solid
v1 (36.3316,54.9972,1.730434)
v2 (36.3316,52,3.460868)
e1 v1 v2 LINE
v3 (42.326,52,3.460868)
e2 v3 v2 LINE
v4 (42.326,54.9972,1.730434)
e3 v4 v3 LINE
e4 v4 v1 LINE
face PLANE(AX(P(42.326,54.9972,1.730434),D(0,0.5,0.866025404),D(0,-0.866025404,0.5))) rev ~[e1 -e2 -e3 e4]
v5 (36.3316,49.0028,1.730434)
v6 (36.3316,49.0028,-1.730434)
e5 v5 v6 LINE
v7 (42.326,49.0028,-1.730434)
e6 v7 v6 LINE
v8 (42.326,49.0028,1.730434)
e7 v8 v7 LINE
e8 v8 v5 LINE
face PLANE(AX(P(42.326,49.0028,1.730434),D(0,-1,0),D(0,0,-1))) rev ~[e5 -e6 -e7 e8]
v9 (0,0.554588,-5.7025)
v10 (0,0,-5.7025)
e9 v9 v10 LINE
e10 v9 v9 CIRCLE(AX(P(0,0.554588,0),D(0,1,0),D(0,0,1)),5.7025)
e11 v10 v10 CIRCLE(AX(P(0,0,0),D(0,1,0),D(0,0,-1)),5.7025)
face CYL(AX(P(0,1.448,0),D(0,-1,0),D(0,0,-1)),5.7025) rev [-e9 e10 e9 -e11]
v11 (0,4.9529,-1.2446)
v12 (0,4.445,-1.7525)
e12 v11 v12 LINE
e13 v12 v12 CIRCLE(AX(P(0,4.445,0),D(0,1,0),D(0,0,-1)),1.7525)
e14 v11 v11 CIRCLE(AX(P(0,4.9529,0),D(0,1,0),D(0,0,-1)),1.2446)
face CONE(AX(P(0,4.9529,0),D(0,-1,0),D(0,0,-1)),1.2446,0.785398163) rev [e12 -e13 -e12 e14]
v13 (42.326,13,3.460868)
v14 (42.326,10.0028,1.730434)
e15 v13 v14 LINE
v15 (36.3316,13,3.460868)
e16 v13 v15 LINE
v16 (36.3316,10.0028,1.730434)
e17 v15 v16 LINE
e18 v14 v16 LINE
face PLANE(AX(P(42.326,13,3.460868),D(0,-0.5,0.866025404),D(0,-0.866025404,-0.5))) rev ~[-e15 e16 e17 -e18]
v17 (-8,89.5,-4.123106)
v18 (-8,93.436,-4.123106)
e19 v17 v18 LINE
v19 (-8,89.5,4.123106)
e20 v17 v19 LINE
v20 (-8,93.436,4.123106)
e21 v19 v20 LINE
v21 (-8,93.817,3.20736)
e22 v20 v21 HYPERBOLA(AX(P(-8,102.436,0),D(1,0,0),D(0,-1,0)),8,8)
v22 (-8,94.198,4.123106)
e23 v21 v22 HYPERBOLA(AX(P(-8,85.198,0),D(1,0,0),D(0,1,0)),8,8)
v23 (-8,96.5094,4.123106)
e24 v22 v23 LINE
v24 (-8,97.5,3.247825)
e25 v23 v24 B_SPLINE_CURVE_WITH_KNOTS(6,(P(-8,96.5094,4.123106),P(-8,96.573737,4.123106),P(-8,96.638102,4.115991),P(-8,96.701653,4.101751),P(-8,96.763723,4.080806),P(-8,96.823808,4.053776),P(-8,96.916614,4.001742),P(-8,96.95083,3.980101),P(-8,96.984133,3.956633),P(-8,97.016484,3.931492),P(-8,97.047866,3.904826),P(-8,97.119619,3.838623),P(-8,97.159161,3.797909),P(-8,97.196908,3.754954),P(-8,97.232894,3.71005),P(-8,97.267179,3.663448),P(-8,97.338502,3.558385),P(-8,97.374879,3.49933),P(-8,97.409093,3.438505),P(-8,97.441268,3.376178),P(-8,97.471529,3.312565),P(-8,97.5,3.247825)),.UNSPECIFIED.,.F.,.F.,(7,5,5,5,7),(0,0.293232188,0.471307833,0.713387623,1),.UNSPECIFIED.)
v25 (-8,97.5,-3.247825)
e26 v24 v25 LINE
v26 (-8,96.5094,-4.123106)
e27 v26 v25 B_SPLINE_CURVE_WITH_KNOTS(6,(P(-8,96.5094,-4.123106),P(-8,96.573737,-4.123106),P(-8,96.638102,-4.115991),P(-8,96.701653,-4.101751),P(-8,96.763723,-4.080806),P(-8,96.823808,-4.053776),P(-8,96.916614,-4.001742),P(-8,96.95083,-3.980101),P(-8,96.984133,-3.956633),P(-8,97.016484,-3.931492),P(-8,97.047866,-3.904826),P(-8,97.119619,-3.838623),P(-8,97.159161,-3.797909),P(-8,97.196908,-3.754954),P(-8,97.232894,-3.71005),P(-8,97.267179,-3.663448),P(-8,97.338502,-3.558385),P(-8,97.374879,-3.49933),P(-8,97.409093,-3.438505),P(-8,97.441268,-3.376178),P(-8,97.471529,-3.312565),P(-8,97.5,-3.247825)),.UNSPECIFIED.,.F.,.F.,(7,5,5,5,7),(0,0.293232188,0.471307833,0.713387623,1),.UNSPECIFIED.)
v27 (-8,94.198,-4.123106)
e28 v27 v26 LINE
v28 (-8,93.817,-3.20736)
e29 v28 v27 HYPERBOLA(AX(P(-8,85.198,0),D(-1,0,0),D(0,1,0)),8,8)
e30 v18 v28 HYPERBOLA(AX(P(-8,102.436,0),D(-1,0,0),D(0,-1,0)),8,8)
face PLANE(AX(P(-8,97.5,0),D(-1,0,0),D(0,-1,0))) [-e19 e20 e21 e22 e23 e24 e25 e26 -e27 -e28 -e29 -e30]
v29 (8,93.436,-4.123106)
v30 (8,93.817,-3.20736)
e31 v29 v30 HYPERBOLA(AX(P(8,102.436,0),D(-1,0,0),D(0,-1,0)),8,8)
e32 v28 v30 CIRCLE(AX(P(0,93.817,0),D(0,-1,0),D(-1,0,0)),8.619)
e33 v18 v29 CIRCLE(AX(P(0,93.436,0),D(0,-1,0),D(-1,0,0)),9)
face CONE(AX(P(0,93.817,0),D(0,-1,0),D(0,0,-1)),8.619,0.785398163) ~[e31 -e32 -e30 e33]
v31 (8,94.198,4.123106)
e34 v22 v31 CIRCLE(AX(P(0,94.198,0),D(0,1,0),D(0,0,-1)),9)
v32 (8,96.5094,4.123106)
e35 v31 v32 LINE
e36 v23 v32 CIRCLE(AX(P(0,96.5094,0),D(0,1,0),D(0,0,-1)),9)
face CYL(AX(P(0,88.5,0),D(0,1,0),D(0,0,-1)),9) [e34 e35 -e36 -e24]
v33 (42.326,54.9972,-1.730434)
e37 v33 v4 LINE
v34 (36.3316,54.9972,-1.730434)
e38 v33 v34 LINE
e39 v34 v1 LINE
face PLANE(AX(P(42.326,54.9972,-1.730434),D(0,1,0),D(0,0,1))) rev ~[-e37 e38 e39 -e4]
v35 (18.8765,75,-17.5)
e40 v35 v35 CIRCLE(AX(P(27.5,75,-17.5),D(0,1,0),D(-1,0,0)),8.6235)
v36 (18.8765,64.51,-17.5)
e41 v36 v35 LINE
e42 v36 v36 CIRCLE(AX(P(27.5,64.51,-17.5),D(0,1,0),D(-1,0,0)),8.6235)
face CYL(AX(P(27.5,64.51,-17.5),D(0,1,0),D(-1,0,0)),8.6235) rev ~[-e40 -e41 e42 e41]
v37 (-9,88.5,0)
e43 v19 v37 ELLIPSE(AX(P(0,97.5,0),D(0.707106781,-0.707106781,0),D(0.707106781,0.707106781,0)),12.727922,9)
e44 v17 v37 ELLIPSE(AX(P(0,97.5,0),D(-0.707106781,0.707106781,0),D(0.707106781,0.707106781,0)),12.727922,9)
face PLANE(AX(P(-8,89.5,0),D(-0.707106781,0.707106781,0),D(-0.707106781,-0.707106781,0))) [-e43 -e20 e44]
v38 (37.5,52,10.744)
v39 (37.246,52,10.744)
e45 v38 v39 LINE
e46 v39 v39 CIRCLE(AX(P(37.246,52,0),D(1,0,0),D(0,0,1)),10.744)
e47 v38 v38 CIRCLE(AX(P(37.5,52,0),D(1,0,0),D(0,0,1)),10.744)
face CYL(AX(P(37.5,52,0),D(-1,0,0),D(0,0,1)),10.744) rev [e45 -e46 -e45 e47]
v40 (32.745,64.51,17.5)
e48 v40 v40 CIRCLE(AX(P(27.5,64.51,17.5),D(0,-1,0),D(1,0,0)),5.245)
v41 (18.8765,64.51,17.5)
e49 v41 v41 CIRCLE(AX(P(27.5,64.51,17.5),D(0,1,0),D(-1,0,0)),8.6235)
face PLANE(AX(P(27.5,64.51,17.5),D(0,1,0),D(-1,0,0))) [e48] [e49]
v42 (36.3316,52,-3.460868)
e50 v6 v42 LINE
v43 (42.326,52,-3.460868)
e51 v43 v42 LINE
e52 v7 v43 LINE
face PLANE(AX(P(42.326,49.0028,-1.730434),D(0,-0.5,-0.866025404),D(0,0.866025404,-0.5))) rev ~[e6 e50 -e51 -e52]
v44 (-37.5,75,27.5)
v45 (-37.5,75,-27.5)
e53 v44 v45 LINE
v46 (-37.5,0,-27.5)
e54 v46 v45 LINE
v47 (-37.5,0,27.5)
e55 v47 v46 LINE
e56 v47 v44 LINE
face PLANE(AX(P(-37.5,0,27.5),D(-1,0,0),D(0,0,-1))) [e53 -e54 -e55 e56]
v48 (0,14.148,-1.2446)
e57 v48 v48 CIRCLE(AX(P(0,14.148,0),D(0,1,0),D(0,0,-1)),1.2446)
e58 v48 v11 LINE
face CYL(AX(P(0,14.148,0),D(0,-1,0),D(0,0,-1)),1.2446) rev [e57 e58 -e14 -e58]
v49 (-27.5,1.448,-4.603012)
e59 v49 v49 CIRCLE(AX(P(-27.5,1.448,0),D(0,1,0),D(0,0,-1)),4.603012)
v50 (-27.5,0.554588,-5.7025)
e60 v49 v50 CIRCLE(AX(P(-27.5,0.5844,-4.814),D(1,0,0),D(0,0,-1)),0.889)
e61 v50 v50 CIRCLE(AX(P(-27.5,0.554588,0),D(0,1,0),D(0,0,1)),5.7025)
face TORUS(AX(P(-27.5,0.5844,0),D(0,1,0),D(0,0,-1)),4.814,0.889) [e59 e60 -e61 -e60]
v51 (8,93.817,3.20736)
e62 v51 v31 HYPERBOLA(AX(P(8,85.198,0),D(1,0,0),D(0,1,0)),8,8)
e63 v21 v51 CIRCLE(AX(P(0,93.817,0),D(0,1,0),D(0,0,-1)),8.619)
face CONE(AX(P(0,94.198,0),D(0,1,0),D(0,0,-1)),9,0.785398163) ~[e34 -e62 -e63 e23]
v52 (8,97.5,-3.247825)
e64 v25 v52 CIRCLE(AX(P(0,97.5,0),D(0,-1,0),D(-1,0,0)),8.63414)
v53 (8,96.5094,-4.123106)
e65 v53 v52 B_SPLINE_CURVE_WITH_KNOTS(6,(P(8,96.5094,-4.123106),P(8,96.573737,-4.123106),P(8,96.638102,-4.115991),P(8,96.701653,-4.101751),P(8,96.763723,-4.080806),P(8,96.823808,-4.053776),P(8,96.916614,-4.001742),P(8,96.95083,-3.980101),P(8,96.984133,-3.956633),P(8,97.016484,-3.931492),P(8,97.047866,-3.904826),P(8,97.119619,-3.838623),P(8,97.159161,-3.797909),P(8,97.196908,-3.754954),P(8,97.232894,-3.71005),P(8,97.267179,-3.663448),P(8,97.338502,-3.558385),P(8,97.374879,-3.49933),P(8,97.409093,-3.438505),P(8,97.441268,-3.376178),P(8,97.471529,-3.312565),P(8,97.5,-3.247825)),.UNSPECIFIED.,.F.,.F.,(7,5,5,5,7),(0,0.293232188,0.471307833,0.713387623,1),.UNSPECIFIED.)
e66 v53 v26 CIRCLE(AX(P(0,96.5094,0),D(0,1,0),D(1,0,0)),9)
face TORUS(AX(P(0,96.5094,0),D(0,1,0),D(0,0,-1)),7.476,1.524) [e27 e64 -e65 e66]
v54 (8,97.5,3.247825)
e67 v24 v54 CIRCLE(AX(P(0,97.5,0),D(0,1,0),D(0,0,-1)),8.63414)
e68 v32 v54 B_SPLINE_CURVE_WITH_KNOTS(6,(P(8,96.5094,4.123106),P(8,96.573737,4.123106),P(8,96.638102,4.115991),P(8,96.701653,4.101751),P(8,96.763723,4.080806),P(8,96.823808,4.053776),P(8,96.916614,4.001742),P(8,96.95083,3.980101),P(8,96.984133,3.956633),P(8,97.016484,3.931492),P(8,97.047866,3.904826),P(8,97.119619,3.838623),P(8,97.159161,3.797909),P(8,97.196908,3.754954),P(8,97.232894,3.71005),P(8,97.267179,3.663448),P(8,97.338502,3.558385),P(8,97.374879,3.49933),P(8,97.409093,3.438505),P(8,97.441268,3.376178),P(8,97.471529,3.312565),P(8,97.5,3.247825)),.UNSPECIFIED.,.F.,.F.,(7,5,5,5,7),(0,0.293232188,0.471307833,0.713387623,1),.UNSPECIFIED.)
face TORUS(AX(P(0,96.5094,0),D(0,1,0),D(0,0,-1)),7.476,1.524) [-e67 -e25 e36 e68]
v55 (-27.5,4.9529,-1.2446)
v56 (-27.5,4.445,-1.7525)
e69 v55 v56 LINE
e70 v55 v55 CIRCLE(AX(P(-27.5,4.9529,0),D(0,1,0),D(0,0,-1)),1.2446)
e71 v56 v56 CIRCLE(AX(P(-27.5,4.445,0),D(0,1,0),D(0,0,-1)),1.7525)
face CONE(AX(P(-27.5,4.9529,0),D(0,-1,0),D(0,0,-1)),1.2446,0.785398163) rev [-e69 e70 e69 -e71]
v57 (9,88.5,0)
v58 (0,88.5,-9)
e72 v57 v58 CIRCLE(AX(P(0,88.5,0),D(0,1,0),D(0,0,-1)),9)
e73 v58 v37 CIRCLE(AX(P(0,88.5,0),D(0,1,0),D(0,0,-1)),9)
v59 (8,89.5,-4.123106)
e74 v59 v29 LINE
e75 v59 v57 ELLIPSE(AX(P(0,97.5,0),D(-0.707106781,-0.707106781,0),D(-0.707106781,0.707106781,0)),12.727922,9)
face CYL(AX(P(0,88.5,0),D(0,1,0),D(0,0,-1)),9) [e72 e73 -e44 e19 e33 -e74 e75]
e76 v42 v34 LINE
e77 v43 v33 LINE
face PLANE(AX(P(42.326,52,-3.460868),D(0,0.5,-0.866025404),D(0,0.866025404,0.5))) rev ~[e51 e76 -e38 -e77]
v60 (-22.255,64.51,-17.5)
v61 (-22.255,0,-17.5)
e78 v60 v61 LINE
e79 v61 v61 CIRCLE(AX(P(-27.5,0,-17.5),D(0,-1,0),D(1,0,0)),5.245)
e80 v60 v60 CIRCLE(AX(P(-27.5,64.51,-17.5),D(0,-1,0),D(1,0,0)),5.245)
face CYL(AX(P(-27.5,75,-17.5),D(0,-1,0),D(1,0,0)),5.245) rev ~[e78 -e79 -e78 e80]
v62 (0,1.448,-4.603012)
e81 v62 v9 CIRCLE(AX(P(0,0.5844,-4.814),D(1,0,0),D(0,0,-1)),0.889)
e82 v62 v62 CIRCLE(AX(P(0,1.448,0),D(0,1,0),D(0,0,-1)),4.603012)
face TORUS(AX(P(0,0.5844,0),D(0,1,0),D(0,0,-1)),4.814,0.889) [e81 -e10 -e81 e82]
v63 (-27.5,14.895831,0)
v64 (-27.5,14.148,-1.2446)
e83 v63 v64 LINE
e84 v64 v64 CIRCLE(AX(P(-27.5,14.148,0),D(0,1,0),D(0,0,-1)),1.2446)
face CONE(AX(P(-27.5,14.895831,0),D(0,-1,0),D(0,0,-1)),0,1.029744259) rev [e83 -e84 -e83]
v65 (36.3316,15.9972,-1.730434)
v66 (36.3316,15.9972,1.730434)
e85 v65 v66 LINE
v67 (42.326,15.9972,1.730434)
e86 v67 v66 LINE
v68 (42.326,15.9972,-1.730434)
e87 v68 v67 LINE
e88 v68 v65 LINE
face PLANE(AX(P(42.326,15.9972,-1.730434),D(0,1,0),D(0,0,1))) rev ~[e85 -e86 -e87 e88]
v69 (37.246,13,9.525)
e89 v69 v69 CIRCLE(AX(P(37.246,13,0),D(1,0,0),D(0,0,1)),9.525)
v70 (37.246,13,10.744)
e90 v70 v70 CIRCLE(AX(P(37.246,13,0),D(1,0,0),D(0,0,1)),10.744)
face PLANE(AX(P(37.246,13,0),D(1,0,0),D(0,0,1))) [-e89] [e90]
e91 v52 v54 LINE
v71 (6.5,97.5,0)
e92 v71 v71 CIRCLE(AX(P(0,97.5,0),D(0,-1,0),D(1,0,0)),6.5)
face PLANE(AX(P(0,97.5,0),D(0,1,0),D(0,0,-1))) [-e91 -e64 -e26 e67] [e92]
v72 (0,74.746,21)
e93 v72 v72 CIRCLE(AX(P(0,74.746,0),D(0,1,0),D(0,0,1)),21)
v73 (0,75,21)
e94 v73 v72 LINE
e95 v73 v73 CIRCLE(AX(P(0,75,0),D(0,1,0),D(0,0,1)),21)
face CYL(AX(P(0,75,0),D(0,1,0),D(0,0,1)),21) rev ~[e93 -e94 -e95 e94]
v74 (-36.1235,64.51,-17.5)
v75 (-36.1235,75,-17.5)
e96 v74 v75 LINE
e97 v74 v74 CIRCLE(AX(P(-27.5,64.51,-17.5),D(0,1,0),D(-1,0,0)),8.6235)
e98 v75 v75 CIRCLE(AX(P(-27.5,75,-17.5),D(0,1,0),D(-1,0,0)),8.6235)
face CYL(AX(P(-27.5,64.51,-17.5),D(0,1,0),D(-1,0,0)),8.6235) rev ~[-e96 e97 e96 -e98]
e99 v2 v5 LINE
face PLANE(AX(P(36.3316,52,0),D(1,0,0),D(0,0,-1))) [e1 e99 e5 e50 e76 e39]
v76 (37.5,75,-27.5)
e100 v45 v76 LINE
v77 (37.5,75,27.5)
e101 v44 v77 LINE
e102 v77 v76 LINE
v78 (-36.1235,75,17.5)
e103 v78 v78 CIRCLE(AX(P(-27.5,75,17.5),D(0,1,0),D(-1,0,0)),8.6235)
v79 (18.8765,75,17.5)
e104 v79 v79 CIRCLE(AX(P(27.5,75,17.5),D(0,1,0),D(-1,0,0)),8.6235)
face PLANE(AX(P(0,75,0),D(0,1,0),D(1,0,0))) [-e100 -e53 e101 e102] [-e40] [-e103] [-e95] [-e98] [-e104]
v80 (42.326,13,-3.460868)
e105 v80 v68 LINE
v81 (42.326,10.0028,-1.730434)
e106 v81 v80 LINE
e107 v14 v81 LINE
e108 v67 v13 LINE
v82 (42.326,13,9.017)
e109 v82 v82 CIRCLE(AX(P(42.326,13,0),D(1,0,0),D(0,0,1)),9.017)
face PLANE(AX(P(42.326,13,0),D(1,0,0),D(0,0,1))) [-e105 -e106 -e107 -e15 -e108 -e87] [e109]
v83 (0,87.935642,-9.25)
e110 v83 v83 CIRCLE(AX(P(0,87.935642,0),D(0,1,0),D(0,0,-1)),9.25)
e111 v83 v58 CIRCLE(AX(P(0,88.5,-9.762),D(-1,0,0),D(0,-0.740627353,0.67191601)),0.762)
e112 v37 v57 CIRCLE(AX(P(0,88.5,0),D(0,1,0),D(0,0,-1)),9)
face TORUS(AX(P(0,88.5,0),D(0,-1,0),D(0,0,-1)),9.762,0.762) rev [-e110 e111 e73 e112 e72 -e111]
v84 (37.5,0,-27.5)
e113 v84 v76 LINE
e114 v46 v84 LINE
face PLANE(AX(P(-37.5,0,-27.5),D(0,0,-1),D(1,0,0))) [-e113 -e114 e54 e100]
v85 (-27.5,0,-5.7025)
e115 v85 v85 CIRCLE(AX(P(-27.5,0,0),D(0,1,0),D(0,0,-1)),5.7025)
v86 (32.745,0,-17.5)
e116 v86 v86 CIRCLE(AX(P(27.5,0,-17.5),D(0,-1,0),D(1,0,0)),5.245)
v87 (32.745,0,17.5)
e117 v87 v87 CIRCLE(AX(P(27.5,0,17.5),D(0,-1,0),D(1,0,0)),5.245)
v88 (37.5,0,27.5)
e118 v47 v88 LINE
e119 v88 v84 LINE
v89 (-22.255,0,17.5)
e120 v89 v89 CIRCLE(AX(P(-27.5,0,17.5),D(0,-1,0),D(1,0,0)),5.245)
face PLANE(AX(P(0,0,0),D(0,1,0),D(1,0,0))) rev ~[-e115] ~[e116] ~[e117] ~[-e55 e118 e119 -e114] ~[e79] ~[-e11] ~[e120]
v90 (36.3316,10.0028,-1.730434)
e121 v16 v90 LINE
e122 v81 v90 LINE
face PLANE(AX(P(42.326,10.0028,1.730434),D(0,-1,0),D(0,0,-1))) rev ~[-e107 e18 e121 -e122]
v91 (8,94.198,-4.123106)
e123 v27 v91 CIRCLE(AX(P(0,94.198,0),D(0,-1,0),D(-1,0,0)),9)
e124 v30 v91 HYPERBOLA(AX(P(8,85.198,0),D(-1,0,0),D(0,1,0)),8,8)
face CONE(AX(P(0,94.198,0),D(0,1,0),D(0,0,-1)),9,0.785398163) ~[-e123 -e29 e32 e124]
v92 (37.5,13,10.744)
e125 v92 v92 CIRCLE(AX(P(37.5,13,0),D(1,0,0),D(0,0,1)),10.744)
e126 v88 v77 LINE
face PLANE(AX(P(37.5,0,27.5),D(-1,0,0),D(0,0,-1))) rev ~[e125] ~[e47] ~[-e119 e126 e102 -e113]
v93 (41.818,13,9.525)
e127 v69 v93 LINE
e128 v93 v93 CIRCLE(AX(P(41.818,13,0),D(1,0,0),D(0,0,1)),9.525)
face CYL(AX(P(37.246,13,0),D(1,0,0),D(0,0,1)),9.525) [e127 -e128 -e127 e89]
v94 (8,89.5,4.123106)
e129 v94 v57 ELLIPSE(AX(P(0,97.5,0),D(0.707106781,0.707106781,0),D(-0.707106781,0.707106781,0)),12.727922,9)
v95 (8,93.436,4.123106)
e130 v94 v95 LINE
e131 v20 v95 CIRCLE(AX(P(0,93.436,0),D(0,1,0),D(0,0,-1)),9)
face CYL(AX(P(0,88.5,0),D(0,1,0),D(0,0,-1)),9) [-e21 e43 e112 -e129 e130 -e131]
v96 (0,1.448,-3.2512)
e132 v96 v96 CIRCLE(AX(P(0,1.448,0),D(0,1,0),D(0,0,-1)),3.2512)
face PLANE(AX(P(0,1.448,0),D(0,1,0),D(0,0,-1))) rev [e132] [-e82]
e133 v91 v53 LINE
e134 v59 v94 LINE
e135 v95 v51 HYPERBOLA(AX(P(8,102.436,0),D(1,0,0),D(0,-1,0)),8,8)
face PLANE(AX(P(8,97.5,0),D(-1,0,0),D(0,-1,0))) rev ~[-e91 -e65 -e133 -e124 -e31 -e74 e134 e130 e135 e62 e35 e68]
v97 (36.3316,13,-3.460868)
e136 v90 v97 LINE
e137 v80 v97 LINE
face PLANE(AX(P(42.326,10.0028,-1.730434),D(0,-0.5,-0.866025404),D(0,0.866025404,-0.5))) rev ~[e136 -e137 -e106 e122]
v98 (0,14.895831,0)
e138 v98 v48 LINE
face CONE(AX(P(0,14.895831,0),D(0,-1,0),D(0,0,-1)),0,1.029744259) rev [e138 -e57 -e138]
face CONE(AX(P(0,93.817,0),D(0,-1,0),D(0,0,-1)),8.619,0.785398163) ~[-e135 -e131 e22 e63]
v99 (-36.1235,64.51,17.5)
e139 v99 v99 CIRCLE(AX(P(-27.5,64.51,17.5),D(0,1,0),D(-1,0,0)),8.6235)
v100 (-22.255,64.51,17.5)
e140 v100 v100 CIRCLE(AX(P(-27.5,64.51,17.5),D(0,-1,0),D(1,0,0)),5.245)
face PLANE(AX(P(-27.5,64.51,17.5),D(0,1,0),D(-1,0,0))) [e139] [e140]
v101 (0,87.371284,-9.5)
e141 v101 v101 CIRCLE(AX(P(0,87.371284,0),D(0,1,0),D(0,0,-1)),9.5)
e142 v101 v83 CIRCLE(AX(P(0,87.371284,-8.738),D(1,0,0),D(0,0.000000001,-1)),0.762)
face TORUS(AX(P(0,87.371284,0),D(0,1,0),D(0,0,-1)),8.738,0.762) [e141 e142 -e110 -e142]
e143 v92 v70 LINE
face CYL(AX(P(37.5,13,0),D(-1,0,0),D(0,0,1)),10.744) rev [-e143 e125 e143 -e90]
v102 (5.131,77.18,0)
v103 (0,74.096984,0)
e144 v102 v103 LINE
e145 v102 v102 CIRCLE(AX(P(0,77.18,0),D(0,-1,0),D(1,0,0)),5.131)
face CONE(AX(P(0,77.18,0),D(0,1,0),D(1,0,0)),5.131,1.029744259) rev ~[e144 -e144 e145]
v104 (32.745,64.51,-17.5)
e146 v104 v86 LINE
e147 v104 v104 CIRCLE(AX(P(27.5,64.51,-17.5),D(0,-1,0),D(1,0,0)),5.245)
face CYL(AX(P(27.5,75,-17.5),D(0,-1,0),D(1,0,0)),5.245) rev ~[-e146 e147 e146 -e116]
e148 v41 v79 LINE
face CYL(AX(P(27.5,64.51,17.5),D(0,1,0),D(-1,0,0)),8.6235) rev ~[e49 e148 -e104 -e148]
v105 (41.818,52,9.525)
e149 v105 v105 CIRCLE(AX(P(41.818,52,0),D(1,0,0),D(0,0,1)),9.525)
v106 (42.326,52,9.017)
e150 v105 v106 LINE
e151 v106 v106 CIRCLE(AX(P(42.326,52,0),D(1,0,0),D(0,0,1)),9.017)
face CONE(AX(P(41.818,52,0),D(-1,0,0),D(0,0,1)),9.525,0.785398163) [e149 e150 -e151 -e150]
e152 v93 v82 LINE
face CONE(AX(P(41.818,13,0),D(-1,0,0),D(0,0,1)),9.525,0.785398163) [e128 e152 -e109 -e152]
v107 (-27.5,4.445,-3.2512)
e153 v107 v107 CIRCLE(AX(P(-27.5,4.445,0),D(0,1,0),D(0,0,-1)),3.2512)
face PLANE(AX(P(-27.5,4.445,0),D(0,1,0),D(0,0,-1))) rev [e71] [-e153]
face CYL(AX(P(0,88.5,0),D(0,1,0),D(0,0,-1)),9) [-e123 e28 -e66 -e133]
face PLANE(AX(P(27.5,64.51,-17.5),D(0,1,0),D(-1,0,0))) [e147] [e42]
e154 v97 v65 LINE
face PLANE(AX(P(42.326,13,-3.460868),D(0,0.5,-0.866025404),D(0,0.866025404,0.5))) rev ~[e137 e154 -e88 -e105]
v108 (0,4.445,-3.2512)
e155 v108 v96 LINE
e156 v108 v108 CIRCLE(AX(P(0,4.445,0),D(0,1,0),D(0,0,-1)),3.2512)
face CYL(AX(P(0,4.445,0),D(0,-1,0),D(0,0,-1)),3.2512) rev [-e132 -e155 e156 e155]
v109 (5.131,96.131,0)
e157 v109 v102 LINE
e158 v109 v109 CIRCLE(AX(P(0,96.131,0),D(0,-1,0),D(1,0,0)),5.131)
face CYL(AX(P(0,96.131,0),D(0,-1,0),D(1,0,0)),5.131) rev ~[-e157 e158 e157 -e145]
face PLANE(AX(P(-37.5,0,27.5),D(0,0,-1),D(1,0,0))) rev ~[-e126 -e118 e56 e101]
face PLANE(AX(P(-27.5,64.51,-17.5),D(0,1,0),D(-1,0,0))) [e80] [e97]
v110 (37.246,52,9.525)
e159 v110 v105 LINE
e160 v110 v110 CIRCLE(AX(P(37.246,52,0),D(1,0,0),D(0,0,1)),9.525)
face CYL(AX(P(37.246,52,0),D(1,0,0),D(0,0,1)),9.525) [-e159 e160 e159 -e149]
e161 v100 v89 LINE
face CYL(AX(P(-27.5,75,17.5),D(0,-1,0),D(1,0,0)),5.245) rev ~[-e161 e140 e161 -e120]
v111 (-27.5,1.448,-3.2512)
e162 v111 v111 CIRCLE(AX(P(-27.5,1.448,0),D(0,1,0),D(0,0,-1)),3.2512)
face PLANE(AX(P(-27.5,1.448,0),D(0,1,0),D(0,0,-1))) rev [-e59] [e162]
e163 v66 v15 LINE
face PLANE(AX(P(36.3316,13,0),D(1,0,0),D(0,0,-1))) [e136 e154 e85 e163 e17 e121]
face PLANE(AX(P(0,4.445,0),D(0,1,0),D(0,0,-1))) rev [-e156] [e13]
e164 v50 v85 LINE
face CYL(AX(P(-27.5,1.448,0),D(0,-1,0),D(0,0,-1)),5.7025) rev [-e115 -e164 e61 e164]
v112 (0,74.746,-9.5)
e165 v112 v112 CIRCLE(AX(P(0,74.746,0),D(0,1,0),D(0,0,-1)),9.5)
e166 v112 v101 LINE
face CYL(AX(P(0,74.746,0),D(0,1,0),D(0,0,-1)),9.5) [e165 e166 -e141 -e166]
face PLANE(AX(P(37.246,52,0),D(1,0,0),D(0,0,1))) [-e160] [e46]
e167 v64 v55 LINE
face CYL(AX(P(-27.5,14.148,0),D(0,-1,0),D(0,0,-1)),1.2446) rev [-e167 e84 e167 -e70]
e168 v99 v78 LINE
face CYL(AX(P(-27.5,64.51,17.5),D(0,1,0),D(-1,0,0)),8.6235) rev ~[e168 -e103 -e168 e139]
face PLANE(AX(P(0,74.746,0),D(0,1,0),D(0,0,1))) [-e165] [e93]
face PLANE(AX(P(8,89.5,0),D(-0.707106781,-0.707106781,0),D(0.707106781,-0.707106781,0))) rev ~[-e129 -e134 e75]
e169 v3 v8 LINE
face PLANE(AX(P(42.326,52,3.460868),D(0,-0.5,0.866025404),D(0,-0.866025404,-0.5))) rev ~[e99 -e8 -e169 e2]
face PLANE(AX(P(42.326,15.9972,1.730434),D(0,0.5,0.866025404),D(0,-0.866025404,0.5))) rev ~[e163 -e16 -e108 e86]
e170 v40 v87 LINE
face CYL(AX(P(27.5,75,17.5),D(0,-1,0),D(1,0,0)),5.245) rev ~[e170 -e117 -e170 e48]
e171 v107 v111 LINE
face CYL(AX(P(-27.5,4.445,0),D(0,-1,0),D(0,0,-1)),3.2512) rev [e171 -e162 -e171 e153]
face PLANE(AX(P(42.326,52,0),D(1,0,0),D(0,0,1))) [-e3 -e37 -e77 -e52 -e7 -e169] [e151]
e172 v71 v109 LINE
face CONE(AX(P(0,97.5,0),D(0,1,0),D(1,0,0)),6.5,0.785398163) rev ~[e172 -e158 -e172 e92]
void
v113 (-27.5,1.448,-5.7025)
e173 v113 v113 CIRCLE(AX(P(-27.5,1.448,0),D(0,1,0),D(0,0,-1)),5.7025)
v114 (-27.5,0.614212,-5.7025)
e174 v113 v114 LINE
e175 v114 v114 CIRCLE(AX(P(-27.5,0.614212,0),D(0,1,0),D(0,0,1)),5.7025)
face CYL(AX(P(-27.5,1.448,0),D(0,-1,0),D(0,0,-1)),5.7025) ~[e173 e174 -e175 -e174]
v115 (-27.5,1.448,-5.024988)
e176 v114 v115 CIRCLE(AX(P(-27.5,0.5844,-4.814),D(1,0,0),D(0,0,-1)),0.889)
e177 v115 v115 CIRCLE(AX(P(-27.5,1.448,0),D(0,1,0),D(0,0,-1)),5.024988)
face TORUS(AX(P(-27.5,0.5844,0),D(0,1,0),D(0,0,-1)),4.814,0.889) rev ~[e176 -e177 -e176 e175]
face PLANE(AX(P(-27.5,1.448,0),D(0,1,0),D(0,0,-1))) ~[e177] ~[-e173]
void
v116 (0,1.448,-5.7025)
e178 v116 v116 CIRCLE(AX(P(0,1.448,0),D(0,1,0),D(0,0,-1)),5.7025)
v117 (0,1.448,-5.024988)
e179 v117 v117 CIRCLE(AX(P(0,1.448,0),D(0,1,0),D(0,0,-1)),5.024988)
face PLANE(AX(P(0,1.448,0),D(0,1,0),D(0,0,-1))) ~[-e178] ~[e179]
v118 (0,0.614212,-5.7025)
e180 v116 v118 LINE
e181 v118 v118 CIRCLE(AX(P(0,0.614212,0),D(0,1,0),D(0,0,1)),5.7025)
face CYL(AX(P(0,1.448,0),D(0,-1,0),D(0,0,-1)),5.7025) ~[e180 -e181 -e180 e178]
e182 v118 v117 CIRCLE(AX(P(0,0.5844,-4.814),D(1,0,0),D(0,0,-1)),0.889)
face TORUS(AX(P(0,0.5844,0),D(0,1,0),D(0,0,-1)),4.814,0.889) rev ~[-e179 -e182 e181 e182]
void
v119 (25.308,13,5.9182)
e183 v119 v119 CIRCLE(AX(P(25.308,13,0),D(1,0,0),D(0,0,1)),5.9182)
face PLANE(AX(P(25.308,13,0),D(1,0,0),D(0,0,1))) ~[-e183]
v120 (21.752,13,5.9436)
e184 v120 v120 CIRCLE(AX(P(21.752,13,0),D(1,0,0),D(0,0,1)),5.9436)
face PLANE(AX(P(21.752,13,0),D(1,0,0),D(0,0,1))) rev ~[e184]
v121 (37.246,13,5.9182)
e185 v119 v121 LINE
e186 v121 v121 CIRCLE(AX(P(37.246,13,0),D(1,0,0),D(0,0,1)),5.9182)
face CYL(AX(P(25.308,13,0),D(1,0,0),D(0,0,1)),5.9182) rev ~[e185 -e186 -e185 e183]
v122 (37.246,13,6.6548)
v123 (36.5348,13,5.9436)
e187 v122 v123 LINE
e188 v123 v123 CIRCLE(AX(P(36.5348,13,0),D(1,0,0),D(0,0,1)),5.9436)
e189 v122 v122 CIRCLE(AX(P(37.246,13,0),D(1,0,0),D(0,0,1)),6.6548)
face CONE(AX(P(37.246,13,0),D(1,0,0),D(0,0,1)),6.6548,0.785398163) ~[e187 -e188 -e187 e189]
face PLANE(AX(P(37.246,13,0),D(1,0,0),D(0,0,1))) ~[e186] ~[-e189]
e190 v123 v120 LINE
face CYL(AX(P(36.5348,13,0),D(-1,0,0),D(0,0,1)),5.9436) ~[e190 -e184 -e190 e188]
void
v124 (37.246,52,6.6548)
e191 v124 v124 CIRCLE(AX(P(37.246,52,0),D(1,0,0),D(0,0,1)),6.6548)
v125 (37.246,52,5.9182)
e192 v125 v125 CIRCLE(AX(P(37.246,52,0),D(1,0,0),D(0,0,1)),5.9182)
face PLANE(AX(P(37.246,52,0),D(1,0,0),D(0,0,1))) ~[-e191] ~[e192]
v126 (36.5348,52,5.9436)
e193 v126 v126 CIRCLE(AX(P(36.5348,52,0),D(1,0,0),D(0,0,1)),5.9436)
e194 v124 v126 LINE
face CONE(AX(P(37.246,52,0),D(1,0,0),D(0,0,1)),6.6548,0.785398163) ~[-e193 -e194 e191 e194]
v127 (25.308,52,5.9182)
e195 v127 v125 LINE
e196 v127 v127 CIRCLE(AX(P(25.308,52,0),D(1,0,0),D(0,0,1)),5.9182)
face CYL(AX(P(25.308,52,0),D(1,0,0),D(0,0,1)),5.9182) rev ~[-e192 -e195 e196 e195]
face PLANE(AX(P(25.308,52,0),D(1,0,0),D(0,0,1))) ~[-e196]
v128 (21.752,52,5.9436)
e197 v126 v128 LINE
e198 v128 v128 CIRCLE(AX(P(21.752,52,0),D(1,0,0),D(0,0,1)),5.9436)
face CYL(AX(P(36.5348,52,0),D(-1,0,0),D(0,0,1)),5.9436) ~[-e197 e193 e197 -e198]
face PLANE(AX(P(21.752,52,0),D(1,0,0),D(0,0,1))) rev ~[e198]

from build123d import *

# Parameters (mm, degrees)
SKETCH1_W                  = 75
SKETCH1_H                  = 55
EXTRUDE1_DEPTH             = 75
SKETCH2_R                  = 21
CUT_EXTRUDE1_DEPTH         = 0.254
CHAMFER1_SIZE              = 0.508
CUT_EXTRUDE2_DEPTH         = 5.9944
LPATTERN1_COUNT            = 2
LPATTERN1_PITCH            = 39
CHAMFER1_OF_LPATTERN1_SIZE = 0.508
SKETCH7_R                  = 0.889
LPATTERN2_COUNT            = 2
LPATTERN2_PITCH            = 27.5
CUT_EXTRUDE3_DEPTH         = 28.5
CUT_EXTRUDE3_DEPTH_BACK    = 28.5
HOLE1_D                    = 10.49
HOLE1_CBORE_D              = 17.247
HOLE1_CBORE_DEPTH          = 10.49


with BuildPart() as part:
    # Sketch1 → Extrude1 (new body)
    with BuildSketch(Plane(origin=(0, 0, 0), x_dir=(1, 0, 0), z_dir=(0, 1, 0))):
        Rectangle(SKETCH1_W, SKETCH1_H)
    extrude(amount=EXTRUDE1_DEPTH)

    # Sketch2 → Cut-Extrude1 (cut)
    with BuildSketch(Plane(origin=(0, 75, 0), x_dir=(1, 0, 0), z_dir=(0, 1, 0))):
        with Locations(Location((0, 0, 0), (0, 0, 270))):  # turned: the seam where the file's is
            Circle(SKETCH2_R)
    extrude(amount=-CUT_EXTRUDE1_DEPTH, mode=Mode.SUBTRACT)

    # Sketch3 → Cut-Revolve1 (revolve, cut)
    with BuildSketch(Plane.XY, mode=Mode.PRIVATE) as cut_revolve1_sk:
        Polygon((37.5, 52), (37.5, 41.256), (37.246, 41.256), (37.246, 45.3452), (36.5348, 46.0564), (21.752, 46.0564), (21.752, 52), align=None)
    cut_revolve1 = revolve(cut_revolve1_sk.sketch.rotate(Axis((-6.847979502, 52, 0), (1, 0, 0)), 270), axis=Axis((-6.847979502, 52, 0), (1, 0, 0)), mode=Mode.SUBTRACT)  # turned: the seam where the file's is

    # Sketch4 → Revolve1 (revolve)
    with BuildSketch(Plane.XY, mode=Mode.PRIVATE) as revolve1_sk:
        Polygon((25.308, 52), (25.308, 57.9182), (37.246, 57.9182), (37.246, 61.525), (42.326, 61.525), (42.326, 52), align=None)
    revolve1 = revolve(revolve1_sk.sketch.rotate(Axis((8.732572807, 52, 0), (1, 0, 0)), 90), axis=Axis((8.732572807, 52, 0), (1, 0, 0)))  # turned: the seam where the file's is

    # Chamfer1
    chamfer1_edges = [part.edges().sort_by_distance(p)[0] for p in [
        (42.326, 52, -9.525),
    ]]
    chamfer(chamfer1_edges, length=CHAMFER1_SIZE)

    # Sketch5 → Cut-Extrude2 (cut)
    with BuildSketch(Plane(origin=(42.326, 0, 0), x_dir=(0, 0, -1), z_dir=(1, 0, 0))):
        Polygon((1.730434227, 54.9972), (-1.730434227, 54.9972), (-3.460868454, 52), (-1.730434227, 49.0028), (1.730434227, 49.0028), (3.460868454, 52), align=None)
    cut_extrude2 = extrude(amount=-CUT_EXTRUDE2_DEPTH, mode=Mode.SUBTRACT)

    # LPattern1: Cut-Revolve1, Revolve1, Cut-Extrude2 ×2
    with Locations(*[(0, -i * LPATTERN1_PITCH, 0) for i in range(1, LPATTERN1_COUNT)]):
        add(cut_revolve1, mode=Mode.SUBTRACT)
        add(revolve1)
        add(cut_extrude2, mode=Mode.SUBTRACT)

    # Chamfer1 of LPattern1
    chamfer1_of_lpattern1_edges = [part.edges().sort_by_distance(p)[0] for p in [
        (42.326, 13, -9.525),
    ]]
    chamfer(chamfer1_of_lpattern1_edges, length=CHAMFER1_OF_LPATTERN1_SIZE)

    # Sketch6 → Cut-Revolve2 (revolve, cut)
    with BuildSketch(Plane.XY, mode=Mode.PRIVATE) as cut_revolve2_sk:
        Polygon((0, 0), (0, 14.895831126), (1.2446, 14.148), (1.2446, 4.9529), (1.7525, 4.445), (3.2512, 4.445), (3.2512, 1.448), (5.7025, 1.448), (5.7025, 0), align=None)
    cut_revolve2 = revolve(cut_revolve2_sk.sketch.rotate(Axis((0, 0, 0), (0, 1, 0)), 90), axis=Axis((0, 0, 0), (0, 1, 0)), mode=Mode.SUBTRACT)  # turned: the seam where the file's is

    # Sketch7 → Revolve3 (revolve)
    with BuildSketch(Plane.XY, mode=Mode.PRIVATE) as revolve3_sk:
        with Locations((4.814, 0.5844)):
            Circle(SKETCH7_R)
    revolve3 = revolve(revolve3_sk.sketch.rotate(Axis((0, 0, 0), (0, 1, 0)), 90), axis=Axis((0, 0, 0), (0, 1, 0)))  # turned: the seam where the file's is

    # LPattern2: Cut-Revolve2, Revolve3 ×2
    with Locations(*[(-i * LPATTERN2_PITCH, 0, 0) for i in range(1, LPATTERN2_COUNT)]):
        add(cut_revolve2, mode=Mode.SUBTRACT)
        add(revolve3)

    # Sketch8 → Revolve4 (revolve)
    with BuildSketch(Plane.XY, mode=Mode.PRIVATE) as revolve4_sk:
        with BuildLine():
            Line((9.5, 74.746), (9.5, 87.371283915))
            ThreePointArc((9.5, 87.371283915), (9.434702232, 87.679909902), (9.25, 87.935641958))
            ThreePointArc((9.25, 87.935641958), (9.065297768, 88.191374013), (9, 88.5))
            Line((9, 88.5), (9, 96.5094))
            ThreePointArc((9, 96.5094), (8.905612002, 97.037401443), (8.634139733, 97.5))
            Line((8.634139733, 97.5), (0, 97.5))
            Line((0, 97.5), (0, 74.746))
            Line((0, 74.746), (9.5, 74.746))
        make_face()
    revolve(revolve4_sk.sketch.rotate(Axis((0, 0, 0), (0, 1, 0)), 90), axis=Axis((0, 0, 0), (0, 1, 0)))  # turned: the seam where the file's is

    # Sketch10 → Cut-Revolve3 (revolve, cut)
    with BuildSketch(Plane.XY):
        Polygon((6.5, 97.5), (5.131, 96.131), (5.131, 77.18), (0, 74.096984164), (0, 97.5), align=None)
    revolve(axis=Axis((0, 97.5, 0), (0, -1, 0)), mode=Mode.SUBTRACT)

    # Sketch11 → Cut-Revolve4 (revolve, cut)
    with BuildSketch(Plane.XY, mode=Mode.PRIVATE) as cut_revolve4_sk:
        Polygon((9, 94.198), (8.619, 93.817), (9, 93.436), align=None)
    revolve(cut_revolve4_sk.sketch.rotate(Axis((0, 0, 0), (0, 1, 0)), 90), axis=Axis((0, 0, 0), (0, 1, 0)), mode=Mode.SUBTRACT)  # turned: the seam where the file's is

    # Sketch12 → Cut-Extrude3 (cut, two sides)
    with BuildSketch(Plane.XY) as cut_extrude3_sk:
        Polygon((8, 97.5), (8, 89.5), (9.5, 88), (9.5, 97.5), align=None)
        Polygon((-9.5, 97.5), (-8, 97.5), (-8, 89.5), (-9.5, 88), align=None)
    extrude(amount=CUT_EXTRUDE3_DEPTH, mode=Mode.SUBTRACT)
    extrude(cut_extrude3_sk.sketch, amount=-CUT_EXTRUDE3_DEPTH_BACK, mode=Mode.SUBTRACT)

    # Hole1 (through all)
    with Locations(Plane(origin=(0, 75, 0), x_dir=(-1, 0, 0), z_dir=(0, 1, 0))):
        with Locations((27.5, 17.5), (27.5, -17.5), (-27.5, -17.5), (-27.5, 17.5)):
            CounterBoreHole(HOLE1_D / 2, HOLE1_CBORE_D / 2, HOLE1_CBORE_DEPTH)


solid = part.part
